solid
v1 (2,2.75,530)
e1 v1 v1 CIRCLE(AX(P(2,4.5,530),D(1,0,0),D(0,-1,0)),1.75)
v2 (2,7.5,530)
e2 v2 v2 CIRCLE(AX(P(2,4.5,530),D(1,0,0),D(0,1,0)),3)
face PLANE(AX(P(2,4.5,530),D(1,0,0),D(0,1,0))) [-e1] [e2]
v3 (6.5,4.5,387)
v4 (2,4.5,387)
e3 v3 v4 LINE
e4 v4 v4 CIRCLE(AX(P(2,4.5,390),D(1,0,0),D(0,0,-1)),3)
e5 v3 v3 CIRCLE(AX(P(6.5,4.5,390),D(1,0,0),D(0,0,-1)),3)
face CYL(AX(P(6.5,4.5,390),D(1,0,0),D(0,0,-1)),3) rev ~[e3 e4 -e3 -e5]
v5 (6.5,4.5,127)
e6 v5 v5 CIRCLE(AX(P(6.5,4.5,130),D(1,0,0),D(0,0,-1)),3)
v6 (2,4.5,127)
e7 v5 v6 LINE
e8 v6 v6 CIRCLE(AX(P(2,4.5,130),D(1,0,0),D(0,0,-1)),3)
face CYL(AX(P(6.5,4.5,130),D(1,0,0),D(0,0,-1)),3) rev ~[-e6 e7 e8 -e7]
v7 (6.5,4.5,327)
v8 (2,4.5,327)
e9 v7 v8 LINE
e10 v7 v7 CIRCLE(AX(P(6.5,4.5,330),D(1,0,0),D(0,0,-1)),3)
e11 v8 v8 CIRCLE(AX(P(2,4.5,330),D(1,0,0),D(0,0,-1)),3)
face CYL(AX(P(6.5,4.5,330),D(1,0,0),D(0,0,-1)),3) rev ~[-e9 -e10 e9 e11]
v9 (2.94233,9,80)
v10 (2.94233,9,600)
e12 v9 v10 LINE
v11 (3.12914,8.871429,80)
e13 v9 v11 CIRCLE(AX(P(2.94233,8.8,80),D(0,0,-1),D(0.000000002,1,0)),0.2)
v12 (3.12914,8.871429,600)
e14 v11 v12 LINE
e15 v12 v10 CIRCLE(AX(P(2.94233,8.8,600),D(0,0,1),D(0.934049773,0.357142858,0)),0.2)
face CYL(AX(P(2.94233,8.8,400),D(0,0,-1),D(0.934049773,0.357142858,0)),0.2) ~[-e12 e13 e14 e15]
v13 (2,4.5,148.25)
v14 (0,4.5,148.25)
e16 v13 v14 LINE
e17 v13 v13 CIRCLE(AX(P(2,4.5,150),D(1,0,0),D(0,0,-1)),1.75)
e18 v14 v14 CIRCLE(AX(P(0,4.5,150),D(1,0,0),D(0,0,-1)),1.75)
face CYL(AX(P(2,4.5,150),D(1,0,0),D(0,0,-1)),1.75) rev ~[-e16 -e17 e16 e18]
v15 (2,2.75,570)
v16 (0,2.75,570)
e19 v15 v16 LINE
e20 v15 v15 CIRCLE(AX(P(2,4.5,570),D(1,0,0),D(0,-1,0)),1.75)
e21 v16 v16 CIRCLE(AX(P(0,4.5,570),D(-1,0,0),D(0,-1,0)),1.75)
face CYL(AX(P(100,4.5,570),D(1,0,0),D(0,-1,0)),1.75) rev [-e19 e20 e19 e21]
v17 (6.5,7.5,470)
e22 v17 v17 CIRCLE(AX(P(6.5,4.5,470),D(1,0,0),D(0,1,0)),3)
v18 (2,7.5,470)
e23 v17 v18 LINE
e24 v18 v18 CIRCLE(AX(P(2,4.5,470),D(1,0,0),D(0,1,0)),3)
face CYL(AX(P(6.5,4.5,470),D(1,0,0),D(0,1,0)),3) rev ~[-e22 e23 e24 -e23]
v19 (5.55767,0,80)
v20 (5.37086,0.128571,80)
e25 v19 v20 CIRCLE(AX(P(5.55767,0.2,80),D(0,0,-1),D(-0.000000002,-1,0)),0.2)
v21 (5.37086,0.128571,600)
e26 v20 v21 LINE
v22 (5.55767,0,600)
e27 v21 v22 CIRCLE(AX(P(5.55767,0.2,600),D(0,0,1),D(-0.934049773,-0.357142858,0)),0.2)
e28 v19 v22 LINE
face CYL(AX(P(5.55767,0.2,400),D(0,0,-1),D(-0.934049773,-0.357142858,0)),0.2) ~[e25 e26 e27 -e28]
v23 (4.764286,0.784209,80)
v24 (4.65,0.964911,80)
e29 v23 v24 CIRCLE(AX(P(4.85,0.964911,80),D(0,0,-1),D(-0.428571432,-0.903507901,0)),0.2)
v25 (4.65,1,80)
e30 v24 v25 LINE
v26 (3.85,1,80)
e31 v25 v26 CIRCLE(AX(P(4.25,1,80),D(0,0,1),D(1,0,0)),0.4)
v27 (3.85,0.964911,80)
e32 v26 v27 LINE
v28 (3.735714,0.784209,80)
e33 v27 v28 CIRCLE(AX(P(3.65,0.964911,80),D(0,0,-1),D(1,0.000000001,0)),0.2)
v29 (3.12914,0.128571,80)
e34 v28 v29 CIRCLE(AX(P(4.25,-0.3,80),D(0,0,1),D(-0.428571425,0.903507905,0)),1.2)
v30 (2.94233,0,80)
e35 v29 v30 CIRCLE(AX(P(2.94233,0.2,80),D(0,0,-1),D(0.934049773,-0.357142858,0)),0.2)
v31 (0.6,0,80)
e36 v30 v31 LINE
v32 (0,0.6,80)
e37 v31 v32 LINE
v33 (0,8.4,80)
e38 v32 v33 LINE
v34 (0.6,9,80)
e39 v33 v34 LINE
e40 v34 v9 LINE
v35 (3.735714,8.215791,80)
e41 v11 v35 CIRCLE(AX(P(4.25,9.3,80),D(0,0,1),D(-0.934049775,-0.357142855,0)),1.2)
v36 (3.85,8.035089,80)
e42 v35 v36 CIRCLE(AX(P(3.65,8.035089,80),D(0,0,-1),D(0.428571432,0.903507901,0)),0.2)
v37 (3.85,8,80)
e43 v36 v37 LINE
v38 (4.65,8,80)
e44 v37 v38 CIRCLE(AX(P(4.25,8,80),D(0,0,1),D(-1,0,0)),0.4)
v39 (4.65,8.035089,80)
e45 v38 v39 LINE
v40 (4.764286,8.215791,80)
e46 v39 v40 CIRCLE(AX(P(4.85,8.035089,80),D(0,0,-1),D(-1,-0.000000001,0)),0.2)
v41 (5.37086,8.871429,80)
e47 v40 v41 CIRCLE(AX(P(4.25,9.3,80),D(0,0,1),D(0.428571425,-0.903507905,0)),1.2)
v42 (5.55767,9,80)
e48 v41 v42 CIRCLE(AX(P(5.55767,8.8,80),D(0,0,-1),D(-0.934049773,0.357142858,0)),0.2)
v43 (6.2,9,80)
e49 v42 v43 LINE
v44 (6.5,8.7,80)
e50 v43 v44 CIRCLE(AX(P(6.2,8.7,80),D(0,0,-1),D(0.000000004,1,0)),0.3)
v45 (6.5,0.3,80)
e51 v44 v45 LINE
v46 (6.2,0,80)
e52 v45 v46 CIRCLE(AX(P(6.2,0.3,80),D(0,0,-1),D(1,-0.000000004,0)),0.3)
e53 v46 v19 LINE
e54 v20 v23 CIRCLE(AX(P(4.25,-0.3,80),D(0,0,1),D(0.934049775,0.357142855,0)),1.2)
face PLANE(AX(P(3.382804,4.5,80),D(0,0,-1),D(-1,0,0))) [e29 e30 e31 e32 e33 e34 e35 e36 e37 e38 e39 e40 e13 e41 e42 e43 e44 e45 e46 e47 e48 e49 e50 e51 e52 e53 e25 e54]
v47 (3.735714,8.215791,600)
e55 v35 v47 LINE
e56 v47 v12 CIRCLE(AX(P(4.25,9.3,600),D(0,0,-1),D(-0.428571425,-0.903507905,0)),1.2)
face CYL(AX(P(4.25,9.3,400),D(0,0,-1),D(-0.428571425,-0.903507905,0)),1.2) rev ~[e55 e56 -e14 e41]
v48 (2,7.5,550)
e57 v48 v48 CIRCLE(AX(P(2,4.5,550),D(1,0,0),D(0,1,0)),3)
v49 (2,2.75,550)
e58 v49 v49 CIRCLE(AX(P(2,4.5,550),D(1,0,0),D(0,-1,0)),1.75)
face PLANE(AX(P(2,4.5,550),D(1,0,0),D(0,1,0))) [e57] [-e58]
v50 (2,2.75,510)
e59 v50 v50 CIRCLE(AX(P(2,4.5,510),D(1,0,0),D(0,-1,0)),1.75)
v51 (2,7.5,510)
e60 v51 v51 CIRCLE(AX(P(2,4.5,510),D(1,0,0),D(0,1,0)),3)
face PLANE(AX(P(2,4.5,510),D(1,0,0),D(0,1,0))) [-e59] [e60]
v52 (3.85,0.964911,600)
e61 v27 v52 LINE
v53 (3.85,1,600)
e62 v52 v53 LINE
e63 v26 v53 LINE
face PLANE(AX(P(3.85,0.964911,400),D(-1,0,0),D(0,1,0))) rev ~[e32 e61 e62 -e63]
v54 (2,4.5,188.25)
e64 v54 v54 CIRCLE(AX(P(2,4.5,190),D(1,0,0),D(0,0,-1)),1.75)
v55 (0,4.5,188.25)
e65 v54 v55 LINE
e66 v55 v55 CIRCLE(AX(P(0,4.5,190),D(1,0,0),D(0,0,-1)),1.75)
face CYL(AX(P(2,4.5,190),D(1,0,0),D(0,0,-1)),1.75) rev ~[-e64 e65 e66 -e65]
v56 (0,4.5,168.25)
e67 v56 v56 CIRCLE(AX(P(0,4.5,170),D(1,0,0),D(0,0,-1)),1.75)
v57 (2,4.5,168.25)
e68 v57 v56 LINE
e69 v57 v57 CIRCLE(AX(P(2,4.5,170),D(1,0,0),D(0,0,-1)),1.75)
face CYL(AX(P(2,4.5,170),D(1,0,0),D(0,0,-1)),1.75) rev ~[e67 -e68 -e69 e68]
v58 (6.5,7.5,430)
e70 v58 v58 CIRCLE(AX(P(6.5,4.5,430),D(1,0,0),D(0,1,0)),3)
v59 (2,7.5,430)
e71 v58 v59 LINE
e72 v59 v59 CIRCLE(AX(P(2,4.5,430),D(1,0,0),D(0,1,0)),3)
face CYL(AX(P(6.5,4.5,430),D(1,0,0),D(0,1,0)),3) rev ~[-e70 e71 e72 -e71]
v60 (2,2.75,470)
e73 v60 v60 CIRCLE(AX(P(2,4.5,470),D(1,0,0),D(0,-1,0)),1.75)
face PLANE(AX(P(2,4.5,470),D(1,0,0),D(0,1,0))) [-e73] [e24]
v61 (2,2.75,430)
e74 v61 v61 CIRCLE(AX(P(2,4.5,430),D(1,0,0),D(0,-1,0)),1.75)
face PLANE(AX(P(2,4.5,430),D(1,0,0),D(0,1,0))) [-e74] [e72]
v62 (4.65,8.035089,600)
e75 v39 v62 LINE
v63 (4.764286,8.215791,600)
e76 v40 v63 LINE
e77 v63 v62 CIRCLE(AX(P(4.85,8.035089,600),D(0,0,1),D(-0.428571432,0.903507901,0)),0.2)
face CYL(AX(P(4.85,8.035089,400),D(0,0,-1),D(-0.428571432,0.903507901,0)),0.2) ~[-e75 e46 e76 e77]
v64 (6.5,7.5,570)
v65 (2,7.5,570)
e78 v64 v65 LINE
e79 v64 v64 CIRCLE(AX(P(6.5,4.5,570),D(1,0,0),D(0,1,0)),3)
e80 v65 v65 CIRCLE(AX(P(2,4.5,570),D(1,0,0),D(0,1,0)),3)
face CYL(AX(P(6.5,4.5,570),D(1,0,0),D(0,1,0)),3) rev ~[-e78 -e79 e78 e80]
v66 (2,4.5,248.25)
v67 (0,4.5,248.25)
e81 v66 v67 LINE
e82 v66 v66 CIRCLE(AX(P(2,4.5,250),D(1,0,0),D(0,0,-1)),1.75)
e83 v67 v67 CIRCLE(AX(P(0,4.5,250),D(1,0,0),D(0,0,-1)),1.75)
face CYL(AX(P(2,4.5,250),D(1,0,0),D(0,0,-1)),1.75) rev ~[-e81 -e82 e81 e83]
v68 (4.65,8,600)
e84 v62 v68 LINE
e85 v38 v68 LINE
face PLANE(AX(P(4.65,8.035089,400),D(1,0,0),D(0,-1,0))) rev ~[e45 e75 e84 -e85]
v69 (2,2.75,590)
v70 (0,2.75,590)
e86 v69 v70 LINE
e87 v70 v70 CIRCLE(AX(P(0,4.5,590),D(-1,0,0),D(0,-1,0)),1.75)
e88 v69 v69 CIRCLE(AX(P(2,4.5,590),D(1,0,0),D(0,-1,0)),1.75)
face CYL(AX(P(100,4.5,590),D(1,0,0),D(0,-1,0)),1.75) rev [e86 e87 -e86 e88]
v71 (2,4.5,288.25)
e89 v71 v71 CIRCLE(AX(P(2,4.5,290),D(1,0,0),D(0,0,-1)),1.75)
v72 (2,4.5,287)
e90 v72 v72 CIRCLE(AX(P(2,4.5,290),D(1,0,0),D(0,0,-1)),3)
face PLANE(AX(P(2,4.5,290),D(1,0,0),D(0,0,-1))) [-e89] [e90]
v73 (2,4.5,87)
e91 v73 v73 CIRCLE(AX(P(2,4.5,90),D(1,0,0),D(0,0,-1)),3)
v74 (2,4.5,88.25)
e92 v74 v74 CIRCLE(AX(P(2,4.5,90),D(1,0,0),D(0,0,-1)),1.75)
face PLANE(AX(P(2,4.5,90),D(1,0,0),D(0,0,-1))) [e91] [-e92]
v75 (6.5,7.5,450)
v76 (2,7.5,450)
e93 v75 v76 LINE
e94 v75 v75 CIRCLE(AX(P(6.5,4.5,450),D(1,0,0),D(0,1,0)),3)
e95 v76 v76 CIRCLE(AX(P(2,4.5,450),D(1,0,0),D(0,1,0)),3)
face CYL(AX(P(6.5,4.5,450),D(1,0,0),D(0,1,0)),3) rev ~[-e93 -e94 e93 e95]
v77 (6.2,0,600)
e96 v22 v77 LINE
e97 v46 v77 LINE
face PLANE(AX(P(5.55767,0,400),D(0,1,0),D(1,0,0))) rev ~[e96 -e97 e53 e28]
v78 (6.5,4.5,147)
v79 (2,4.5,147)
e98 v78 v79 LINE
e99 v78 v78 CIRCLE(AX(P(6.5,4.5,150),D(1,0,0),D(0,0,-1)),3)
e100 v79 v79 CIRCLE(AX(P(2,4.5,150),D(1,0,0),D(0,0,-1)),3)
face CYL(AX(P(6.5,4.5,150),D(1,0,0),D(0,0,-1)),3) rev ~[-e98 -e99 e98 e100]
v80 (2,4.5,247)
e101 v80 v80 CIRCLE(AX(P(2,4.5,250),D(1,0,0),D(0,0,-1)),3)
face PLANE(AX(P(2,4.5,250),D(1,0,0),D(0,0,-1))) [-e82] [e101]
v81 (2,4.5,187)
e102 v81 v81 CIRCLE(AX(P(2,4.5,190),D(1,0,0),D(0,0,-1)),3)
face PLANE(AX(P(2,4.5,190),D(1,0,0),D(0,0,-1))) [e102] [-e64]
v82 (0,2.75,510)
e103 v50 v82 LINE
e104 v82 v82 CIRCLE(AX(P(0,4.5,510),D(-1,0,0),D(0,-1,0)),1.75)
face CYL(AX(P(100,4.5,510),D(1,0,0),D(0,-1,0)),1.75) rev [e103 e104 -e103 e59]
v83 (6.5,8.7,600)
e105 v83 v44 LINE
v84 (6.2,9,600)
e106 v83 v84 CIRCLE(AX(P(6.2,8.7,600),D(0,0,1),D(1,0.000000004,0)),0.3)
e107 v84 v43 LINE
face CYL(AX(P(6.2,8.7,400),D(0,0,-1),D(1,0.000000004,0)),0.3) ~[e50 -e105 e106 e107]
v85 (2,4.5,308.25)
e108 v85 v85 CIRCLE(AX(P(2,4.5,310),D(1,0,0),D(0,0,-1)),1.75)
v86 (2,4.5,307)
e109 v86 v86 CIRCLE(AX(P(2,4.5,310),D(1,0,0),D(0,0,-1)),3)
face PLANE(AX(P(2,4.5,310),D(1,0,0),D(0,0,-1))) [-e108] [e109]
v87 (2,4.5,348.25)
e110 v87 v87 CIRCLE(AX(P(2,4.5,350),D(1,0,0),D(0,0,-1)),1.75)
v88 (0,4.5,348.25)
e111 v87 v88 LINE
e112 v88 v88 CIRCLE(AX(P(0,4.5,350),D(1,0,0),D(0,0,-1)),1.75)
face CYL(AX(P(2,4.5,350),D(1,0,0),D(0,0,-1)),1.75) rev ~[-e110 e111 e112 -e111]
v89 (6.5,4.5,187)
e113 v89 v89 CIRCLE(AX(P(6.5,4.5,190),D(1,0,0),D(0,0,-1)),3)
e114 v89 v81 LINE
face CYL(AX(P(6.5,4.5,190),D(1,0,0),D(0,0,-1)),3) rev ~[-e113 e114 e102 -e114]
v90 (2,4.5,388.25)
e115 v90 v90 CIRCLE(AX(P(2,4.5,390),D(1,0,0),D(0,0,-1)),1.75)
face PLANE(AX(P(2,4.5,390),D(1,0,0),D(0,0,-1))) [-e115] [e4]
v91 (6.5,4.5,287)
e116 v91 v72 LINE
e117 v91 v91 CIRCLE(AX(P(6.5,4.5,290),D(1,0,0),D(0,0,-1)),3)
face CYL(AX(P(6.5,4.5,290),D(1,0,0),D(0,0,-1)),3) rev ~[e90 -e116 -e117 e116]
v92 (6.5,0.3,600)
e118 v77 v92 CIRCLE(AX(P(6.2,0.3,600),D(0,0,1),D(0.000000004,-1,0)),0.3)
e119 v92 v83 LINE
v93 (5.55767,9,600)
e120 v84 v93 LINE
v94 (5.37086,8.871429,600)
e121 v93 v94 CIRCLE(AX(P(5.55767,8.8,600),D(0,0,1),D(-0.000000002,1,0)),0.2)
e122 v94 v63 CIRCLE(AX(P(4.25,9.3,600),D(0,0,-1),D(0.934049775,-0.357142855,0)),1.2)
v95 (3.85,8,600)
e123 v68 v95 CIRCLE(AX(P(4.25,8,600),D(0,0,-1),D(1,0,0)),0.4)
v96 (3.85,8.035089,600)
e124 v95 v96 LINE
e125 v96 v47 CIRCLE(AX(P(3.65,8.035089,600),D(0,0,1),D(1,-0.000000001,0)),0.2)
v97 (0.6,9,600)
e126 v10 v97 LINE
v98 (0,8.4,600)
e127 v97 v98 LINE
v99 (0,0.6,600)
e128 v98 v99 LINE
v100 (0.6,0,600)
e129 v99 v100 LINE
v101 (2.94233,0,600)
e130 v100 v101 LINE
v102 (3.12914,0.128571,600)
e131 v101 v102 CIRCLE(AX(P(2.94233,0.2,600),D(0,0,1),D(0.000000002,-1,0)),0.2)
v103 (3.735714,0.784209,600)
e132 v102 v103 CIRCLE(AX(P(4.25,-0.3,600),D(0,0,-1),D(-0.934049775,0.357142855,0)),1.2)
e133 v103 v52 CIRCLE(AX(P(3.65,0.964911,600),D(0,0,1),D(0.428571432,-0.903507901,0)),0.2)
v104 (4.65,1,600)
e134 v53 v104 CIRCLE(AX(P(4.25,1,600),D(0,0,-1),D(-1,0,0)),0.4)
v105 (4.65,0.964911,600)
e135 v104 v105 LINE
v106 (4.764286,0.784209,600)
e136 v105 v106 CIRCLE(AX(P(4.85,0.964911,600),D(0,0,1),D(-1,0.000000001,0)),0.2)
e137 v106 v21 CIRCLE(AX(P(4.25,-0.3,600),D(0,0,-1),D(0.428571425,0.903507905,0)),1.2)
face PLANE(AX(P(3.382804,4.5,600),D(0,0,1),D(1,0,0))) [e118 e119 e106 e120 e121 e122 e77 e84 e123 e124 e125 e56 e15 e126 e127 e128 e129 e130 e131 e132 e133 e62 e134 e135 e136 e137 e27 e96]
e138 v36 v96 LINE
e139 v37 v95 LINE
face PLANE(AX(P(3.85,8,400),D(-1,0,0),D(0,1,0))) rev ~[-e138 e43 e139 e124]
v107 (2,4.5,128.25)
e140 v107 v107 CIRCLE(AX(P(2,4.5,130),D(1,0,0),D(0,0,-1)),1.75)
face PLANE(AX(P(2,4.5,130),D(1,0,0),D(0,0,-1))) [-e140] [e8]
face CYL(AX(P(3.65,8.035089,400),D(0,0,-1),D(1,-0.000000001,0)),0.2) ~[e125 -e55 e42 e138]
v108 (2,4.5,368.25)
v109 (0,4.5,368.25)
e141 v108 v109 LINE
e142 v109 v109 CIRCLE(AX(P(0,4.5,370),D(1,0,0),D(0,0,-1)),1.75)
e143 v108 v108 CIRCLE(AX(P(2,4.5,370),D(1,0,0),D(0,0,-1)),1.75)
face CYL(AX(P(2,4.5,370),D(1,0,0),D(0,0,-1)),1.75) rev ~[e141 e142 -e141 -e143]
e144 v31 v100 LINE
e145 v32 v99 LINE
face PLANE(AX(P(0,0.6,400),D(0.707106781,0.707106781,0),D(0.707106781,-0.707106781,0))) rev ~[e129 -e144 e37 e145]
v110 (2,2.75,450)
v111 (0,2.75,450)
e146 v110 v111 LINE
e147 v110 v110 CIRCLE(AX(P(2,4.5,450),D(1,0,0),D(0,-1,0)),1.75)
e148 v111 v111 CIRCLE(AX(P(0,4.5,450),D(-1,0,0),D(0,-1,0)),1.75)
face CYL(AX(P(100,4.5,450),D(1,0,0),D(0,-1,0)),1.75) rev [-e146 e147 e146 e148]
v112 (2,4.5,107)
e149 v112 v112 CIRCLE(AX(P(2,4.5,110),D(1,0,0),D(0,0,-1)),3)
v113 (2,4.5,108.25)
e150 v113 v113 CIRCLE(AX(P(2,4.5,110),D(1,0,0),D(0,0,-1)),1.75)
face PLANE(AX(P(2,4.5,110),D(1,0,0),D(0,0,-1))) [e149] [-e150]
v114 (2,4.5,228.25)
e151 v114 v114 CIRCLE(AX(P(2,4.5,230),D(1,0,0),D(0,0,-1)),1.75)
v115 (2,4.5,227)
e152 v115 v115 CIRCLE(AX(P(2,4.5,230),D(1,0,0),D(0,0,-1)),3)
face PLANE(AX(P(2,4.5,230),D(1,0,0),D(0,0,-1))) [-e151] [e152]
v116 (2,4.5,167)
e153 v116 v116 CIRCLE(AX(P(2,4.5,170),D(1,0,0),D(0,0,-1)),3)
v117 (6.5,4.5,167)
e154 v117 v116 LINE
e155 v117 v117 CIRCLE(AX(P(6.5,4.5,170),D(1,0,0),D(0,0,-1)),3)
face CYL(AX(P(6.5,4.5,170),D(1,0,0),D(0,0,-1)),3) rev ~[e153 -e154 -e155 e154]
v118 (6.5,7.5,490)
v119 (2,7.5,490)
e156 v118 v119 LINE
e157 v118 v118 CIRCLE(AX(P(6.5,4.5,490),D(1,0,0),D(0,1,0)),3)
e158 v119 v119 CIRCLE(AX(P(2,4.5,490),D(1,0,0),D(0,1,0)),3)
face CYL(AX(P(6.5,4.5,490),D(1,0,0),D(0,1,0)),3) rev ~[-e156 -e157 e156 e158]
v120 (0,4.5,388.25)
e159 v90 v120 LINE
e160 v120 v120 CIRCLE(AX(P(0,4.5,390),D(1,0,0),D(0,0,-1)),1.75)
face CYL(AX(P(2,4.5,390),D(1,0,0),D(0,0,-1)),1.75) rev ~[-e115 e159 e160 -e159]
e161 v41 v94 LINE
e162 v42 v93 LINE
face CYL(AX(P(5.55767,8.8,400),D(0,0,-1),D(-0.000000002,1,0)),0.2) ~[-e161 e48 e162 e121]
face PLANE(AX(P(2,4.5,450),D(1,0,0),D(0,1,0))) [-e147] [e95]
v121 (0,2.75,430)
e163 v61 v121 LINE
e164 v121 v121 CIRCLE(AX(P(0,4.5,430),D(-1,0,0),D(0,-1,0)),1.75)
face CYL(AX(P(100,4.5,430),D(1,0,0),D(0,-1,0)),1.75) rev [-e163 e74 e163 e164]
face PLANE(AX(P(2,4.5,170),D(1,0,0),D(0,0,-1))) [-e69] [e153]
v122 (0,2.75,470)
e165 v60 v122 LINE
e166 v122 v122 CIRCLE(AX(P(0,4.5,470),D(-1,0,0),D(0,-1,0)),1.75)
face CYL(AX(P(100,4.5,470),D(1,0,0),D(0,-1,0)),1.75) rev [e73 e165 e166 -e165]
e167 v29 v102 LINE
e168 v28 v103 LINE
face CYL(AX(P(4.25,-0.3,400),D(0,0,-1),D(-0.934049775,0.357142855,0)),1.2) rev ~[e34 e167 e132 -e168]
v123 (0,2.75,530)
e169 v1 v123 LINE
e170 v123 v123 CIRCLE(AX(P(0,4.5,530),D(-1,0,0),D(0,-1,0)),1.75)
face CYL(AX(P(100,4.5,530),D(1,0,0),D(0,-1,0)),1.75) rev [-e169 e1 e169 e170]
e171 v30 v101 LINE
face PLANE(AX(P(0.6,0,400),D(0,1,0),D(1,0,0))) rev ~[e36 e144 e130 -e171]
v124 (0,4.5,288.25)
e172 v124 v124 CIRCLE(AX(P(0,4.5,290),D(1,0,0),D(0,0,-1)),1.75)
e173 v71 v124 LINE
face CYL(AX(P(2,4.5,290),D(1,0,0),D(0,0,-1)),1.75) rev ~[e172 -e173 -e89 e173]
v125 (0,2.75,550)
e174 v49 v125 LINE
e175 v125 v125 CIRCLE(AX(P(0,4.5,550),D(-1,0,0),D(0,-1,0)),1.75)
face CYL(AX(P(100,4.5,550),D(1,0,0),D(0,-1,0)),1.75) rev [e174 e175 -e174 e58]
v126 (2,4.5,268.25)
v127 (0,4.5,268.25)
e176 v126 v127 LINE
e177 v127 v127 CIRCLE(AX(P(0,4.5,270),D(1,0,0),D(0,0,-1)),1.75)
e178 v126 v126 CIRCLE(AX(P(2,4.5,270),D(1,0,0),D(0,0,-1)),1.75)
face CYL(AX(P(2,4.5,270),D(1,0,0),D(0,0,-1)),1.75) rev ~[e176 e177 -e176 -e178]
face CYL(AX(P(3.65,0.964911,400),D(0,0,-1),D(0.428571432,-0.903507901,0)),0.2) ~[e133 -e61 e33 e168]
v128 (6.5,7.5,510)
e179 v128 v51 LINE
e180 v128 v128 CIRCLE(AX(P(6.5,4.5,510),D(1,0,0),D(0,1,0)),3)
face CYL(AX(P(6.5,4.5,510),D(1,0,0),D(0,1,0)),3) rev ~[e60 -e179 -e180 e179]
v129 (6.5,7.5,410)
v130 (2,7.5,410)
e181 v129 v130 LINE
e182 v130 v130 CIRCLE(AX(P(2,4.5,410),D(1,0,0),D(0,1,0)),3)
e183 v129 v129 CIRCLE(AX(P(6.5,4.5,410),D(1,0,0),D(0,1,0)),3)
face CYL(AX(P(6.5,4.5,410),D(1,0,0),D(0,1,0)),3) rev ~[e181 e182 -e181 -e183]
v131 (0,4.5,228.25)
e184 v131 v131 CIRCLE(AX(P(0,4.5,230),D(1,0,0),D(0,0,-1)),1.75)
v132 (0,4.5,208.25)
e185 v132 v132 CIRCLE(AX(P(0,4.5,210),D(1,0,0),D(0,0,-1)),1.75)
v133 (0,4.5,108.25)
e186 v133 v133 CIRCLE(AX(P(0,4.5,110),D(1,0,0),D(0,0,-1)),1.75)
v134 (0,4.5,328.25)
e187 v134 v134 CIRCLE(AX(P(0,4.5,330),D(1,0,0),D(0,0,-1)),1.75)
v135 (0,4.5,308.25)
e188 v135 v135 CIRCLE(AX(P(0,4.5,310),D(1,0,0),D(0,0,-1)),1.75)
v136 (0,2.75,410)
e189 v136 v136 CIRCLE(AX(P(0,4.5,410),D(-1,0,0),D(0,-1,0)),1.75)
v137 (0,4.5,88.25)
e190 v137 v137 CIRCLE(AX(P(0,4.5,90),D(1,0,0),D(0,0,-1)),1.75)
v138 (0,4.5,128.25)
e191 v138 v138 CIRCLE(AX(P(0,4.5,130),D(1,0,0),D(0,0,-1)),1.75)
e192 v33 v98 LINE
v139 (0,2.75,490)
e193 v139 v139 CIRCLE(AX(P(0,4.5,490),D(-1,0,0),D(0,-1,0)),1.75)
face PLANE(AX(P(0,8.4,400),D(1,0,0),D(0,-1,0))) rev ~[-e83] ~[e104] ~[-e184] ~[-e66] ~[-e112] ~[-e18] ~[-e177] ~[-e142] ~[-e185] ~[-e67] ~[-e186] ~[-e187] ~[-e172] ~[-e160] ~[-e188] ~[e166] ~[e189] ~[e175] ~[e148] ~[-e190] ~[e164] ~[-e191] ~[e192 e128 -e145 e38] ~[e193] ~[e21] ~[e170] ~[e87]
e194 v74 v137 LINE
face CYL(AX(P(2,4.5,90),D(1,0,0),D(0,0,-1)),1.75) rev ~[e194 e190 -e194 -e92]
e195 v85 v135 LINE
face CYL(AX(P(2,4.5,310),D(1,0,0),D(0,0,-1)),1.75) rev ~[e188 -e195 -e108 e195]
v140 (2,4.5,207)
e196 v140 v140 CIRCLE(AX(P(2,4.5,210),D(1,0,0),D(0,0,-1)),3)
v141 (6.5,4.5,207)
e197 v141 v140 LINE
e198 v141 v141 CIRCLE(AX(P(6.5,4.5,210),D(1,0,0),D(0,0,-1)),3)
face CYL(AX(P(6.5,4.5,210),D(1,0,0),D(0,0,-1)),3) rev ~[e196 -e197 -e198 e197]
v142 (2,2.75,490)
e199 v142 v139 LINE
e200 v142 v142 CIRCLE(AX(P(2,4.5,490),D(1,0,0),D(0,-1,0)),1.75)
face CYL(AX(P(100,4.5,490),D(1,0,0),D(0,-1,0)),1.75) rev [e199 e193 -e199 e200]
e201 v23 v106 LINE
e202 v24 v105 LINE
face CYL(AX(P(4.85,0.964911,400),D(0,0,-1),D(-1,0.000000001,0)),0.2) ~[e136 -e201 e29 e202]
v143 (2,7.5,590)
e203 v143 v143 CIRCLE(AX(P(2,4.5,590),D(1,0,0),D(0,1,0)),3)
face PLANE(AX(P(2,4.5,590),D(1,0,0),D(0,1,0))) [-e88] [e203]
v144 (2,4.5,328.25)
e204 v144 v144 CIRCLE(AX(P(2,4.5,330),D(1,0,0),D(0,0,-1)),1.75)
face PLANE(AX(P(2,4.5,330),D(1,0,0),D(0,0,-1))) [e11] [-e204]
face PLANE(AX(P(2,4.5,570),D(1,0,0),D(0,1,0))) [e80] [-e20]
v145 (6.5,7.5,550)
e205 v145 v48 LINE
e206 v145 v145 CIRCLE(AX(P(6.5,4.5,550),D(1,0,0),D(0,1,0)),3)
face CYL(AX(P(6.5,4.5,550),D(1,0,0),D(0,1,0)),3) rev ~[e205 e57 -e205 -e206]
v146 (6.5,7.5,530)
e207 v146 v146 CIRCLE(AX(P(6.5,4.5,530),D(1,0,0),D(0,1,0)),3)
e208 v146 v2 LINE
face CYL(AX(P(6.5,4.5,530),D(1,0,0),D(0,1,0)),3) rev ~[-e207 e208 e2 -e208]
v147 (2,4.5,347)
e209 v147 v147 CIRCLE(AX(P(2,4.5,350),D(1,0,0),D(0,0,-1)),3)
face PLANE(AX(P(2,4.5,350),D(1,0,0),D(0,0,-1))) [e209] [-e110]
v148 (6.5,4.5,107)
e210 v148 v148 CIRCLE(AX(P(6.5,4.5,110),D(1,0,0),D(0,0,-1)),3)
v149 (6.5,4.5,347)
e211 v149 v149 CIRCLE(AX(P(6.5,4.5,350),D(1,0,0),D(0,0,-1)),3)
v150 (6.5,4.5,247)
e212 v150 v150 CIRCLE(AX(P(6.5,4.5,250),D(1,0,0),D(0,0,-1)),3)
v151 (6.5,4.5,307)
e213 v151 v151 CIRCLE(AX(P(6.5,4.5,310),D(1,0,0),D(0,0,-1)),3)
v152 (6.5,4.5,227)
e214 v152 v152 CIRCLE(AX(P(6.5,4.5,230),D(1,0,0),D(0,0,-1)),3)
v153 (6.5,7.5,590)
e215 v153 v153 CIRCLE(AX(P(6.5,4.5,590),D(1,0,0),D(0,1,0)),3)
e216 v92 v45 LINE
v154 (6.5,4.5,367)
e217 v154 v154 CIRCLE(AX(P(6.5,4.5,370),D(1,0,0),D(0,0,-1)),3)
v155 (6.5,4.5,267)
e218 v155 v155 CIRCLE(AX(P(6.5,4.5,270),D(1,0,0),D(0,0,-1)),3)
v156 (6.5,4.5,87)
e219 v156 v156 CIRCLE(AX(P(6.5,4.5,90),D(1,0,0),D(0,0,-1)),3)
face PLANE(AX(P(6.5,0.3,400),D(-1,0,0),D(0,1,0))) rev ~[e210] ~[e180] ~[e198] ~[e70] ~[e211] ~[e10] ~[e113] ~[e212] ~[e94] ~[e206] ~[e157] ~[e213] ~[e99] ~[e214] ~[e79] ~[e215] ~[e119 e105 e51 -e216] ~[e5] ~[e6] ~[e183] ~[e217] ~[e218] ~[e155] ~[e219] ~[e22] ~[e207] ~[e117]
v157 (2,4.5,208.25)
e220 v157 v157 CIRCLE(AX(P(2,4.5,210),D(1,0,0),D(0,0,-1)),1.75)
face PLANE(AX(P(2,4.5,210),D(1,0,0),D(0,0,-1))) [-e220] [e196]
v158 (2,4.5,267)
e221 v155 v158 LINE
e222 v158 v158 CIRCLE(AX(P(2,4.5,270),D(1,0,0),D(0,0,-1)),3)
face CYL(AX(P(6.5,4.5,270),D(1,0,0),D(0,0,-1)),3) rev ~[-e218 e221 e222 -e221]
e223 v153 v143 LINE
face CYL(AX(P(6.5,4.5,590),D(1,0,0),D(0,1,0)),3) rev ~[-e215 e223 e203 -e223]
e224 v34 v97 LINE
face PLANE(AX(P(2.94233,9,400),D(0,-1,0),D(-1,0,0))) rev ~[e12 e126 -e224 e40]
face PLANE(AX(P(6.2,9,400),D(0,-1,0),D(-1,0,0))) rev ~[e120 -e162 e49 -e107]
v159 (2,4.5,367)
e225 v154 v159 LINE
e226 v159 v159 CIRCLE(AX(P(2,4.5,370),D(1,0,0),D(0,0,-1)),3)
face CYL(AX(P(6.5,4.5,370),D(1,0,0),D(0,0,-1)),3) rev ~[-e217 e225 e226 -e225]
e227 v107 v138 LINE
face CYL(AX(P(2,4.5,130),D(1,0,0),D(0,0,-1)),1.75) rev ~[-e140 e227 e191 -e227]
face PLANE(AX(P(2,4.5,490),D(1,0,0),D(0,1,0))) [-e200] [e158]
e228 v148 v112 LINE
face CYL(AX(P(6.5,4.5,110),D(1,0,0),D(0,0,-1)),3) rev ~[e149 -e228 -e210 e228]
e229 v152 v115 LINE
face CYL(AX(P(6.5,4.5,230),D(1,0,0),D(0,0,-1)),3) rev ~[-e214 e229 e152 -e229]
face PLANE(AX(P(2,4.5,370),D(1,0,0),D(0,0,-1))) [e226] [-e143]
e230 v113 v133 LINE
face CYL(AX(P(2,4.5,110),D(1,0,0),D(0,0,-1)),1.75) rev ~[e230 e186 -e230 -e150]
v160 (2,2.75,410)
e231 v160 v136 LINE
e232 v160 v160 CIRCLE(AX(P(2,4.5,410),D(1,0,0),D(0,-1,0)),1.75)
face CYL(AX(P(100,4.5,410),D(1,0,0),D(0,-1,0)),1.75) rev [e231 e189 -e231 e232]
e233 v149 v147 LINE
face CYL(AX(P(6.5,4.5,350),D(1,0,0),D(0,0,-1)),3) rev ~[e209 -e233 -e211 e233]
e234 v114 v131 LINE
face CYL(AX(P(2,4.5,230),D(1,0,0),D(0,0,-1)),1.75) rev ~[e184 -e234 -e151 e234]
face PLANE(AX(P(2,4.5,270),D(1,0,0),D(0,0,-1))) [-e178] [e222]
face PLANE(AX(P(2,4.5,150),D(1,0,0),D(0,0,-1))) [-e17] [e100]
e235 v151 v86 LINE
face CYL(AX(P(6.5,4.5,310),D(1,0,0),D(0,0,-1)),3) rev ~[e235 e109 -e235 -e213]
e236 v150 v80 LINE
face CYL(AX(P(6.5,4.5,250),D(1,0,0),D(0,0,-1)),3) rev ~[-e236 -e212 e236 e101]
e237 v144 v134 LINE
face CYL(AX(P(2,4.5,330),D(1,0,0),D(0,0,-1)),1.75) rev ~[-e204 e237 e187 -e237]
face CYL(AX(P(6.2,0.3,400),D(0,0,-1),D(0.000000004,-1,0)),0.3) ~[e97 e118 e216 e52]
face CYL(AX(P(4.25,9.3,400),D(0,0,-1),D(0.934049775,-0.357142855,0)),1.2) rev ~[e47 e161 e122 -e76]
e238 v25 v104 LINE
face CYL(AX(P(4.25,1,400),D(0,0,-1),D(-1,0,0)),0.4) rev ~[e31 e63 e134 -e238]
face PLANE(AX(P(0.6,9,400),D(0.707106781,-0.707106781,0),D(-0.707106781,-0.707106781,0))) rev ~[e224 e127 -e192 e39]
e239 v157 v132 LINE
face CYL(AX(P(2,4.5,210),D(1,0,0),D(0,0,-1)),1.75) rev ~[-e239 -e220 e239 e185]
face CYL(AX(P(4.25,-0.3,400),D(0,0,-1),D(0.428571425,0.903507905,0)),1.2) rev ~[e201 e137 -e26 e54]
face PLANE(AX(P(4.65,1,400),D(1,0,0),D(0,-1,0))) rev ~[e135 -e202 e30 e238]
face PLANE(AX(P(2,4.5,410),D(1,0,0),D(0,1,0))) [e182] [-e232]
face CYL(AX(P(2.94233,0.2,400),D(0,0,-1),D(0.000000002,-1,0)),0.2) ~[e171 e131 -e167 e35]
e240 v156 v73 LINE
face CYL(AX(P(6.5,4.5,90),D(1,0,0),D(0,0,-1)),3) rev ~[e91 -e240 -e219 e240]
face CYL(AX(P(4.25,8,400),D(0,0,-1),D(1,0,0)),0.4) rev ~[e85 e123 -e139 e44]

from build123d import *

# Parameters (mm, degrees)
EXTRUDE_1_DEPTH     = 400
SKETCH_2_R          = 3
CUT_EXTRUDE_1_DEPTH = 4.5
SKETCH_3_R          = 1.75
CUT_EXTRUDE_2_DEPTH = 401.126542484
CUT_EXTRUDE_4_DEPTH = 80
EXTRUDE_2_DEPTH     = 200
CUT_EXTRUDE_START   = -100
SKETCH_7_R          = 1.75
CUT_EXTRUDE_5_DEPTH = 100
SKETCH_8_R          = 3
CUT_EXTRUDE_6_DEPTH = 4.5


with BuildPart() as part:
    # 草图1 → 凸台-拉伸1 (new body)
    with BuildSketch(Plane.XY):
        with BuildLine():
            ThreePointArc((6.2, 9), (6.412132034, 8.912132034), (6.5, 8.7))
            Line((6.5, 8.7), (6.5, 0.3))
            ThreePointArc((6.5, 0.3), (6.412132034, 0.087867966), (6.2, 0))
            Line((6.2, 0), (5.557669683, 0))
            ThreePointArc((5.557669683, 0), (5.444280341, 0.035249106), (5.370859728, 0.128571429))
            ThreePointArc((5.370859728, 0.128571429), (5.130846451, 0.514929157), (4.764285714, 0.784209483))
            ThreePointArc((4.764285714, 0.784209483), (4.680969149, 0.858006567), (4.65, 0.964911064))
            Line((4.65, 0.964911064), (4.65, 1))
            ThreePointArc((4.65, 1), (4.25, 1.4), (3.85, 1))
            Line((3.85, 1), (3.85, 0.964911064))
            ThreePointArc((3.85, 0.964911064), (3.819030851, 0.858006567), (3.735714286, 0.784209483))
            ThreePointArc((3.735714286, 0.784209483), (3.369153549, 0.514929157), (3.129140272, 0.128571429))
            ThreePointArc((3.129140272, 0.128571429), (3.055719659, 0.035249106), (2.942330317, 0))
            Line((2.942330317, 0), (0.6, 0))
            Line((0.6, 0), (0, 0.6))
            Line((0, 0.6), (0, 8.4))
            Line((0, 8.4), (0.6, 9))
            Line((0.6, 9), (2.942330317, 9))
            ThreePointArc((2.942330317, 9), (3.055719659, 8.964750894), (3.129140272, 8.871428571))
            ThreePointArc((3.129140272, 8.871428571), (3.369153549, 8.485070843), (3.735714286, 8.215790517))
            ThreePointArc((3.735714286, 8.215790517), (3.819030851, 8.141993433), (3.85, 8.035088936))
            Line((3.85, 8.035088936), (3.85, 8))
            ThreePointArc((3.85, 8), (4.25, 7.6), (4.65, 8))
            Line((4.65, 8), (4.65, 8.035088936))
            ThreePointArc((4.65, 8.035088936), (4.680969149, 8.141993433), (4.764285714, 8.215790517))
            ThreePointArc((4.764285714, 8.215790517), (5.130846451, 8.485070843), (5.370859728, 8.871428571))
            ThreePointArc((5.370859728, 8.871428571), (5.444280341, 8.964750894), (5.557669683, 9))
            Line((5.557669683, 9), (6.2, 9))
        make_face()
    extrude(amount=EXTRUDE_1_DEPTH)

    # 草图2 → 切除-拉伸1 (cut)
    with BuildSketch(Plane(origin=(6.5, 0, 0), x_dir=(0, 0, -1), z_dir=(1, 0, 0))):
        with Locations((-10, 4.5)):
            Circle(SKETCH_2_R)
        with Locations((-30, 4.5)):
            Circle(SKETCH_2_R)
        with Locations((-50, 4.5)):
            Circle(SKETCH_2_R)
        with Locations((-70, 4.5)):
            Circle(SKETCH_2_R)
        with Locations((-90, 4.5)):
            Circle(SKETCH_2_R)
        with Locations((-110, 4.5)):
            Circle(SKETCH_2_R)
        with Locations((-130, 4.5)):
            Circle(SKETCH_2_R)
        with Locations((-150, 4.5)):
            Circle(SKETCH_2_R)
        with Locations((-170, 4.5)):
            Circle(SKETCH_2_R)
        with Locations((-190, 4.5)):
            Circle(SKETCH_2_R)
        with Locations((-210, 4.5)):
            Circle(SKETCH_2_R)
        with Locations((-230, 4.5)):
            Circle(SKETCH_2_R)
        with Locations((-250, 4.5)):
            Circle(SKETCH_2_R)
        with Locations((-270, 4.5)):
            Circle(SKETCH_2_R)
        with Locations((-290, 4.5)):
            Circle(SKETCH_2_R)
        with Locations((-310, 4.5)):
            Circle(SKETCH_2_R)
        with Locations((-330, 4.5)):
            Circle(SKETCH_2_R)
        with Locations((-350, 4.5)):
            Circle(SKETCH_2_R)
        with Locations((-370, 4.5)):
            Circle(SKETCH_2_R)
        with Locations((-390, 4.5)):
            Circle(SKETCH_2_R)
        with Locations((-410, 4.5)):
            Circle(SKETCH_2_R)
        with Locations((-430, 4.5)):
            Circle(SKETCH_2_R)
        with Locations((-450, 4.5)):
            Circle(SKETCH_2_R)
        with Locations((-470, 4.5)):
            Circle(SKETCH_2_R)
        with Locations((-490, 4.5)):
            Circle(SKETCH_2_R)
        with Locations((-510, 4.5)):
            Circle(SKETCH_2_R)
        with Locations((-530, 4.5)):
            Circle(SKETCH_2_R)
        with Locations((-550, 4.5)):
            Circle(SKETCH_2_R)
        with Locations((-570, 4.5)):
            Circle(SKETCH_2_R)
        with Locations((-590, 4.5)):
            Circle(SKETCH_2_R)
        with Locations((-610, 4.5)):
            Circle(SKETCH_2_R)
        with Locations((-630, 4.5)):
            Circle(SKETCH_2_R)
        with Locations((-650, 4.5)):
            Circle(SKETCH_2_R)
        with Locations((-670, 4.5)):
            Circle(SKETCH_2_R)
        with Locations((-690, 4.5)):
            Circle(SKETCH_2_R)
        with Locations((-710, 4.5)):
            Circle(SKETCH_2_R)
        with Locations((-730, 4.5)):
            Circle(SKETCH_2_R)
        with Locations((-750, 4.5)):
            Circle(SKETCH_2_R)
        with Locations((-770, 4.5)):
            Circle(SKETCH_2_R)
        with Locations((-790, 4.5)):
            Circle(SKETCH_2_R)
        with Locations((-810, 4.5)):
            Circle(SKETCH_2_R)
        with Locations((-830, 4.5)):
            Circle(SKETCH_2_R)
        with Locations((-850, 4.5)):
            Circle(SKETCH_2_R)
        with Locations((-870, 4.5)):
            Circle(SKETCH_2_R)
        with Locations((-890, 4.5)):
            Circle(SKETCH_2_R)
        with Locations((-910, 4.5)):
            Circle(SKETCH_2_R)
        with Locations((-930, 4.5)):
            Circle(SKETCH_2_R)
        with Locations((-950, 4.5)):
            Circle(SKETCH_2_R)
        with Locations((-970, 4.5)):
            Circle(SKETCH_2_R)
        with Locations((-990, 4.5)):
            Circle(SKETCH_2_R)
        with Locations((-1010, 4.5)):
            Circle(SKETCH_2_R)
        with Locations((-1030, 4.5)):
            Circle(SKETCH_2_R)
        with Locations((-1050, 4.5)):
            Circle(SKETCH_2_R)
        with Locations((-1070, 4.5)):
            Circle(SKETCH_2_R)
        with Locations((-1090, 4.5)):
            Circle(SKETCH_2_R)
        with Locations((-1110, 4.5)):
            Circle(SKETCH_2_R)
        with Locations((-1130, 4.5)):
            Circle(SKETCH_2_R)
        with Locations((-1150, 4.5)):
            Circle(SKETCH_2_R)
        with Locations((-1170, 4.5)):
            Circle(SKETCH_2_R)
        with Locations((-1190, 4.5)):
            Circle(SKETCH_2_R)
        with Locations((-1210, 4.5)):
            Circle(SKETCH_2_R)
        with Locations((-1230, 4.5)):
            Circle(SKETCH_2_R)
        with Locations((-1250, 4.5)):
            Circle(SKETCH_2_R)
        with Locations((-1270, 4.5)):
            Circle(SKETCH_2_R)
        with Locations((-1290, 4.5)):
            Circle(SKETCH_2_R)
        with Locations((-1310, 4.5)):
            Circle(SKETCH_2_R)
        with Locations((-1330, 4.5)):
            Circle(SKETCH_2_R)
        with Locations((-1350, 4.5)):
            Circle(SKETCH_2_R)
        with Locations((-1370, 4.5)):
            Circle(SKETCH_2_R)
        with Locations((-1390, 4.5)):
            Circle(SKETCH_2_R)
        with Locations((-1410, 4.5)):
            Circle(SKETCH_2_R)
        with Locations((-1430, 4.5)):
            Circle(SKETCH_2_R)
        with Locations((-1450, 4.5)):
            Circle(SKETCH_2_R)
        with Locations((-1470, 4.5)):
            Circle(SKETCH_2_R)
        with Locations((-1490, 4.5)):
            Circle(SKETCH_2_R)
        with Locations((-1510, 4.5)):
            Circle(SKETCH_2_R)
        with Locations((-1530, 4.5)):
            Circle(SKETCH_2_R)
        with Locations((-1550, 4.5)):
            Circle(SKETCH_2_R)
        with Locations((-1570, 4.5)):
            Circle(SKETCH_2_R)
        with Locations((-1590, 4.5)):
            Circle(SKETCH_2_R)
        with Locations((-1610, 4.5)):
            Circle(SKETCH_2_R)
        with Locations((-1630, 4.5)):
            Circle(SKETCH_2_R)
        with Locations((-1650, 4.5)):
            Circle(SKETCH_2_R)
        with Locations((-1670, 4.5)):
            Circle(SKETCH_2_R)
        with Locations((-1690, 4.5)):
            Circle(SKETCH_2_R)
        with Locations((-1710, 4.5)):
            Circle(SKETCH_2_R)
        with Locations((-1730, 4.5)):
            Circle(SKETCH_2_R)
        with Locations((-1750, 4.5)):
            Circle(SKETCH_2_R)
        with Locations((-1770, 4.5)):
            Circle(SKETCH_2_R)
        with Locations((-1790, 4.5)):
            Circle(SKETCH_2_R)
        with Locations((-1810, 4.5)):
            Circle(SKETCH_2_R)
        with Locations((-1830, 4.5)):
            Circle(SKETCH_2_R)
        with Locations((-1850, 4.5)):
            Circle(SKETCH_2_R)
        with Locations((-1870, 4.5)):
            Circle(SKETCH_2_R)
        with Locations((-1890, 4.5)):
            Circle(SKETCH_2_R)
        with Locations((-1910, 4.5)):
            Circle(SKETCH_2_R)
        with Locations((-1930, 4.5)):
            Circle(SKETCH_2_R)
        with Locations((-1950, 4.5)):
            Circle(SKETCH_2_R)
        with Locations((-1970, 4.5)):
            Circle(SKETCH_2_R)
        with Locations((-1990, 4.5)):
            Circle(SKETCH_2_R)
        with Locations((-2010, 4.5)):
            Circle(SKETCH_2_R)
        with Locations((-2030, 4.5)):
            Circle(SKETCH_2_R)
        with Locations((-2050, 4.5)):
            Circle(SKETCH_2_R)
        with Locations((-2070, 4.5)):
            Circle(SKETCH_2_R)
        with Locations((-2090, 4.5)):
            Circle(SKETCH_2_R)
        with Locations((-2110, 4.5)):
            Circle(SKETCH_2_R)
        with Locations((-2130, 4.5)):
            Circle(SKETCH_2_R)
        with Locations((-2150, 4.5)):
            Circle(SKETCH_2_R)
        with Locations((-2170, 4.5)):
            Circle(SKETCH_2_R)
        with Locations((-2190, 4.5)):
            Circle(SKETCH_2_R)
        with Locations((-2210, 4.5)):
            Circle(SKETCH_2_R)
        with Locations((-2230, 4.5)):
            Circle(SKETCH_2_R)
        with Locations((-2250, 4.5)):
            Circle(SKETCH_2_R)
        with Locations((-2270, 4.5)):
            Circle(SKETCH_2_R)
        with Locations((-2290, 4.5)):
            Circle(SKETCH_2_R)
        with Locations((-2310, 4.5)):
            Circle(SKETCH_2_R)
        with Locations((-2330, 4.5)):
            Circle(SKETCH_2_R)
        with Locations((-2350, 4.5)):
            Circle(SKETCH_2_R)
        with Locations((-2370, 4.5)):
            Circle(SKETCH_2_R)
        with Locations((-2390, 4.5)):
            Circle(SKETCH_2_R)
        with Locations((-2410, 4.5)):
            Circle(SKETCH_2_R)
        with Locations((-2430, 4.5)):
            Circle(SKETCH_2_R)
        with Locations((-2450, 4.5)):
            Circle(SKETCH_2_R)
        with Locations((-2470, 4.5)):
            Circle(SKETCH_2_R)
    extrude(amount=-CUT_EXTRUDE_1_DEPTH, mode=Mode.SUBTRACT)

    # 草图3 → 切除-拉伸2 (cut, through all)
    with BuildSketch(Plane(origin=(2, 0, 0), x_dir=(0, 0, -1), z_dir=(1, 0, 0))):
        with Locations((-10, 4.5)):
            Circle(SKETCH_3_R)
        with Locations((-30, 4.5)):
            Circle(SKETCH_3_R)
        with Locations((-50, 4.5)):
            Circle(SKETCH_3_R)
        with Locations((-70, 4.5)):
            Circle(SKETCH_3_R)
        with Locations((-90, 4.5)):
            Circle(SKETCH_3_R)
        with Locations((-110, 4.5)):
            Circle(SKETCH_3_R)
        with Locations((-130, 4.5)):
            Circle(SKETCH_3_R)
        with Locations((-150, 4.5)):
            Circle(SKETCH_3_R)
        with Locations((-170, 4.5)):
            Circle(SKETCH_3_R)
        with Locations((-190, 4.5)):
            Circle(SKETCH_3_R)
        with Locations((-210, 4.5)):
            Circle(SKETCH_3_R)
        with Locations((-230, 4.5)):
            Circle(SKETCH_3_R)
        with Locations((-250, 4.5)):
            Circle(SKETCH_3_R)
        with Locations((-270, 4.5)):
            Circle(SKETCH_3_R)
        with Locations((-290, 4.5)):
            Circle(SKETCH_3_R)
        with Locations((-310, 4.5)):
            Circle(SKETCH_3_R)
        with Locations((-330, 4.5)):
            Circle(SKETCH_3_R)
        with Locations((-350, 4.5)):
            Circle(SKETCH_3_R)
        with Locations((-370, 4.5)):
            Circle(SKETCH_3_R)
        with Locations((-390, 4.5)):
            Circle(SKETCH_3_R)
        with Locations((-410, 4.5)):
            Circle(SKETCH_3_R)
        with Locations((-430, 4.5)):
            Circle(SKETCH_3_R)
        with Locations((-450, 4.5)):
            Circle(SKETCH_3_R)
        with Locations((-470, 4.5)):
            Circle(SKETCH_3_R)
        with Locations((-490, 4.5)):
            Circle(SKETCH_3_R)
        with Locations((-510, 4.5)):
            Circle(SKETCH_3_R)
        with Locations((-530, 4.5)):
            Circle(SKETCH_3_R)
        with Locations((-550, 4.5)):
            Circle(SKETCH_3_R)
        with Locations((-570, 4.5)):
            Circle(SKETCH_3_R)
        with Locations((-590, 4.5)):
            Circle(SKETCH_3_R)
        with Locations((-610, 4.5)):
            Circle(SKETCH_3_R)
        with Locations((-630, 4.5)):
            Circle(SKETCH_3_R)
        with Locations((-650, 4.5)):
            Circle(SKETCH_3_R)
        with Locations((-670, 4.5)):
            Circle(SKETCH_3_R)
        with Locations((-690, 4.5)):
            Circle(SKETCH_3_R)
        with Locations((-710, 4.5)):
            Circle(SKETCH_3_R)
        with Locations((-730, 4.5)):
            Circle(SKETCH_3_R)
        with Locations((-750, 4.5)):
            Circle(SKETCH_3_R)
        with Locations((-770, 4.5)):
            Circle(SKETCH_3_R)
        with Locations((-790, 4.5)):
            Circle(SKETCH_3_R)
        with Locations((-810, 4.5)):
            Circle(SKETCH_3_R)
        with Locations((-830, 4.5)):
            Circle(SKETCH_3_R)
        with Locations((-850, 4.5)):
            Circle(SKETCH_3_R)
        with Locations((-870, 4.5)):
            Circle(SKETCH_3_R)
        with Locations((-890, 4.5)):
            Circle(SKETCH_3_R)
        with Locations((-910, 4.5)):
            Circle(SKETCH_3_R)
        with Locations((-930, 4.5)):
            Circle(SKETCH_3_R)
        with Locations((-950, 4.5)):
            Circle(SKETCH_3_R)
        with Locations((-970, 4.5)):
            Circle(SKETCH_3_R)
        with Locations((-990, 4.5)):
            Circle(SKETCH_3_R)
        with Locations((-1010, 4.5)):
            Circle(SKETCH_3_R)
        with Locations((-1030, 4.5)):
            Circle(SKETCH_3_R)
        with Locations((-1050, 4.5)):
            Circle(SKETCH_3_R)
        with Locations((-1070, 4.5)):
            Circle(SKETCH_3_R)
    extrude(amount=-CUT_EXTRUDE_2_DEPTH, mode=Mode.SUBTRACT)

    # 草图5 → 切除-拉伸4 (cut)
    with BuildSketch(Plane(origin=(0, 0, 0), x_dir=(-1, 0, 0), z_dir=(0, 0, -1))):
        with BuildLine():
            Line((-6.5, 8.7), (-6.5, 0.3))
            ThreePointArc((-6.5, 0.3), (-6.412132034, 0.087867966), (-6.2, 0))
            Line((-6.2, 0), (-5.557669683, 0))
            ThreePointArc((-5.557669683, 0), (-5.444280341, 0.035249106), (-5.370859728, 0.128571429))
            ThreePointArc((-5.370859728, 0.128571429), (-5.130846451, 0.514929157), (-4.764285714, 0.784209483))
            ThreePointArc((-4.764285714, 0.784209483), (-4.680969149, 0.858006567), (-4.65, 0.964911064))
            Line((-4.65, 0.964911064), (-4.65, 1))
            ThreePointArc((-4.65, 1), (-4.25, 1.4), (-3.85, 1))
            Line((-3.85, 1), (-3.85, 0.964911064))
            ThreePointArc((-3.85, 0.964911064), (-3.819030851, 0.858006567), (-3.735714286, 0.784209483))
            ThreePointArc((-3.735714286, 0.784209483), (-3.369153549, 0.514929157), (-3.129140272, 0.128571429))
            ThreePointArc((-3.129140272, 0.128571429), (-3.055719659, 0.035249106), (-2.942330317, 0))
            Line((-2.942330317, 0), (-0.6, 0))
            Line((-0.6, 0), (0, 0.6))
            Line((0, 0.6), (0, 8.4))
            Line((0, 8.4), (-0.6, 9))
            Line((-0.6, 9), (-2.942330317, 9))
            ThreePointArc((-2.942330317, 9), (-3.055719659, 8.964750894), (-3.129140272, 8.871428571))
            ThreePointArc((-3.129140272, 8.871428571), (-3.369153549, 8.485070843), (-3.735714286, 8.215790517))
            ThreePointArc((-3.735714286, 8.215790517), (-3.819030851, 8.141993433), (-3.85, 8.035088936))
            Line((-3.85, 8.035088936), (-3.85, 8))
            ThreePointArc((-3.85, 8), (-4.25, 7.6), (-4.65, 8))
            Line((-4.65, 8), (-4.65, 8.035088936))
            ThreePointArc((-4.65, 8.035088936), (-4.680969149, 8.141993433), (-4.764285714, 8.215790517))
            ThreePointArc((-4.764285714, 8.215790517), (-5.130846451, 8.485070843), (-5.370859728, 8.871428571))
            ThreePointArc((-5.370859728, 8.871428571), (-5.444280341, 8.964750894), (-5.557669683, 9))
            Line((-5.557669683, 9), (-6.2, 9))
            ThreePointArc((-6.2, 9), (-6.412132034, 8.912132034), (-6.5, 8.7))
        make_face()
    extrude(amount=-CUT_EXTRUDE_4_DEPTH, mode=Mode.SUBTRACT)

    # 草图6 → 凸台-拉伸2 (add)
    with BuildSketch(Plane.XY.offset(400)):
        with BuildLine():
            Line((6.2, 9), (5.557669683, 9))
            ThreePointArc((5.557669683, 9), (5.444280341, 8.964750894), (5.370859728, 8.871428571))
            ThreePointArc((5.370859728, 8.871428571), (5.130846451, 8.485070843), (4.764285714, 8.215790517))
            ThreePointArc((4.764285714, 8.215790517), (4.680969149, 8.141993433), (4.65, 8.035088936))
            Line((4.65, 8.035088936), (4.65, 8))
            ThreePointArc((4.65, 8), (4.25, 7.6), (3.85, 8))
            Line((3.85, 8), (3.85, 8.035088936))
            ThreePointArc((3.85, 8.035088936), (3.819030851, 8.141993433), (3.735714286, 8.215790517))
            ThreePointArc((3.735714286, 8.215790517), (3.369153549, 8.485070843), (3.129140272, 8.871428571))
            ThreePointArc((3.129140272, 8.871428571), (3.055719659, 8.964750894), (2.942330317, 9))
            Line((2.942330317, 9), (0.6, 9))
            Line((0.6, 9), (0, 8.4))
            Line((0, 8.4), (0, 0.6))
            Line((0, 0.6), (0.6, 0))
            Line((0.6, 0), (2.942330317, 0))
            ThreePointArc((2.942330317, 0), (3.055719659, 0.035249106), (3.129140272, 0.128571429))
            ThreePointArc((3.129140272, 0.128571429), (3.369153549, 0.514929157), (3.735714286, 0.784209483))
            ThreePointArc((3.735714286, 0.784209483), (3.819030851, 0.858006567), (3.85, 0.964911064))
            Line((3.85, 0.964911064), (3.85, 1))
            ThreePointArc((3.85, 1), (4.25, 1.4), (4.65, 1))
            Line((4.65, 1), (4.65, 0.964911064))
            ThreePointArc((4.65, 0.964911064), (4.680969149, 0.858006567), (4.764285714, 0.784209483))
            ThreePointArc((4.764285714, 0.784209483), (5.130846451, 0.514929157), (5.370859728, 0.128571429))
            ThreePointArc((5.370859728, 0.128571429), (5.444280341, 0.035249106), (5.557669683, 0))
            Line((5.557669683, 0), (6.2, 0))
            ThreePointArc((6.2, 0), (6.412132034, 0.087867966), (6.5, 0.3))
            Line((6.5, 0.3), (6.5, 8.7))
            ThreePointArc((6.5, 8.7), (6.412132034, 8.912132034), (6.2, 9))
        make_face()
    extrude(amount=EXTRUDE_2_DEPTH)

    # 草图7 → 切除-拉伸5 (cut)
    with BuildSketch(Plane.ZY.offset(CUT_EXTRUDE_START)):
        with Locations(Location((390, 4.5, 0), (0, 0, 180))):
            Circle(SKETCH_7_R)
        with Locations(Location((410, 4.5, 0), (0, 0, 270))):
            Circle(SKETCH_7_R)
        with Locations(Location((430, 4.5, 0), (0, 0, 270))):
            Circle(SKETCH_7_R)
        with Locations(Location((450, 4.5, 0), (0, 0, 270))):
            Circle(SKETCH_7_R)
        with Locations(Location((470, 4.5, 0), (0, 0, 270))):
            Circle(SKETCH_7_R)
        with Locations(Location((490, 4.5, 0), (0, 0, 270))):
            Circle(SKETCH_7_R)
        with Locations(Location((510, 4.5, 0), (0, 0, 270))):
            Circle(SKETCH_7_R)
        with Locations(Location((530, 4.5, 0), (0, 0, 270))):
            Circle(SKETCH_7_R)
        with Locations(Location((550, 4.5, 0), (0, 0, 270))):
            Circle(SKETCH_7_R)
        with Locations(Location((570, 4.5, 0), (0, 0, 270))):
            Circle(SKETCH_7_R)
        with Locations(Location((590, 4.5, 0), (0, 0, 270))):
            Circle(SKETCH_7_R)
    extrude(amount=CUT_EXTRUDE_5_DEPTH, mode=Mode.SUBTRACT)

    # 草图8 → 切除-拉伸6 (cut)
    with BuildSketch(Plane(origin=(6.5, 0, 0), x_dir=(0, 0, -1), z_dir=(1, 0, 0))):
        with Locations((-390, 4.5)):
            Circle(SKETCH_8_R)
        with Locations(Location((-410, 4.5, 0), (0, 0, 90))):
            Circle(SKETCH_8_R)
        with Locations(Location((-430, 4.5, 0), (0, 0, 90))):
            Circle(SKETCH_8_R)
        with Locations(Location((-450, 4.5, 0), (0, 0, 90))):
            Circle(SKETCH_8_R)
        with Locations(Location((-470, 4.5, 0), (0, 0, 90))):
            Circle(SKETCH_8_R)
        with Locations(Location((-490, 4.5, 0), (0, 0, 90))):
            Circle(SKETCH_8_R)
        with Locations(Location((-510, 4.5, 0), (0, 0, 90))):
            Circle(SKETCH_8_R)
        with Locations(Location((-530, 4.5, 0), (0, 0, 90))):
            Circle(SKETCH_8_R)
        with Locations(Location((-550, 4.5, 0), (0, 0, 90))):
            Circle(SKETCH_8_R)
        with Locations(Location((-570, 4.5, 0), (0, 0, 90))):
            Circle(SKETCH_8_R)
        with Locations(Location((-590, 4.5, 0), (0, 0, 90))):
            Circle(SKETCH_8_R)
    extrude(amount=-CUT_EXTRUDE_6_DEPTH, mode=Mode.SUBTRACT)


solid = part.part
